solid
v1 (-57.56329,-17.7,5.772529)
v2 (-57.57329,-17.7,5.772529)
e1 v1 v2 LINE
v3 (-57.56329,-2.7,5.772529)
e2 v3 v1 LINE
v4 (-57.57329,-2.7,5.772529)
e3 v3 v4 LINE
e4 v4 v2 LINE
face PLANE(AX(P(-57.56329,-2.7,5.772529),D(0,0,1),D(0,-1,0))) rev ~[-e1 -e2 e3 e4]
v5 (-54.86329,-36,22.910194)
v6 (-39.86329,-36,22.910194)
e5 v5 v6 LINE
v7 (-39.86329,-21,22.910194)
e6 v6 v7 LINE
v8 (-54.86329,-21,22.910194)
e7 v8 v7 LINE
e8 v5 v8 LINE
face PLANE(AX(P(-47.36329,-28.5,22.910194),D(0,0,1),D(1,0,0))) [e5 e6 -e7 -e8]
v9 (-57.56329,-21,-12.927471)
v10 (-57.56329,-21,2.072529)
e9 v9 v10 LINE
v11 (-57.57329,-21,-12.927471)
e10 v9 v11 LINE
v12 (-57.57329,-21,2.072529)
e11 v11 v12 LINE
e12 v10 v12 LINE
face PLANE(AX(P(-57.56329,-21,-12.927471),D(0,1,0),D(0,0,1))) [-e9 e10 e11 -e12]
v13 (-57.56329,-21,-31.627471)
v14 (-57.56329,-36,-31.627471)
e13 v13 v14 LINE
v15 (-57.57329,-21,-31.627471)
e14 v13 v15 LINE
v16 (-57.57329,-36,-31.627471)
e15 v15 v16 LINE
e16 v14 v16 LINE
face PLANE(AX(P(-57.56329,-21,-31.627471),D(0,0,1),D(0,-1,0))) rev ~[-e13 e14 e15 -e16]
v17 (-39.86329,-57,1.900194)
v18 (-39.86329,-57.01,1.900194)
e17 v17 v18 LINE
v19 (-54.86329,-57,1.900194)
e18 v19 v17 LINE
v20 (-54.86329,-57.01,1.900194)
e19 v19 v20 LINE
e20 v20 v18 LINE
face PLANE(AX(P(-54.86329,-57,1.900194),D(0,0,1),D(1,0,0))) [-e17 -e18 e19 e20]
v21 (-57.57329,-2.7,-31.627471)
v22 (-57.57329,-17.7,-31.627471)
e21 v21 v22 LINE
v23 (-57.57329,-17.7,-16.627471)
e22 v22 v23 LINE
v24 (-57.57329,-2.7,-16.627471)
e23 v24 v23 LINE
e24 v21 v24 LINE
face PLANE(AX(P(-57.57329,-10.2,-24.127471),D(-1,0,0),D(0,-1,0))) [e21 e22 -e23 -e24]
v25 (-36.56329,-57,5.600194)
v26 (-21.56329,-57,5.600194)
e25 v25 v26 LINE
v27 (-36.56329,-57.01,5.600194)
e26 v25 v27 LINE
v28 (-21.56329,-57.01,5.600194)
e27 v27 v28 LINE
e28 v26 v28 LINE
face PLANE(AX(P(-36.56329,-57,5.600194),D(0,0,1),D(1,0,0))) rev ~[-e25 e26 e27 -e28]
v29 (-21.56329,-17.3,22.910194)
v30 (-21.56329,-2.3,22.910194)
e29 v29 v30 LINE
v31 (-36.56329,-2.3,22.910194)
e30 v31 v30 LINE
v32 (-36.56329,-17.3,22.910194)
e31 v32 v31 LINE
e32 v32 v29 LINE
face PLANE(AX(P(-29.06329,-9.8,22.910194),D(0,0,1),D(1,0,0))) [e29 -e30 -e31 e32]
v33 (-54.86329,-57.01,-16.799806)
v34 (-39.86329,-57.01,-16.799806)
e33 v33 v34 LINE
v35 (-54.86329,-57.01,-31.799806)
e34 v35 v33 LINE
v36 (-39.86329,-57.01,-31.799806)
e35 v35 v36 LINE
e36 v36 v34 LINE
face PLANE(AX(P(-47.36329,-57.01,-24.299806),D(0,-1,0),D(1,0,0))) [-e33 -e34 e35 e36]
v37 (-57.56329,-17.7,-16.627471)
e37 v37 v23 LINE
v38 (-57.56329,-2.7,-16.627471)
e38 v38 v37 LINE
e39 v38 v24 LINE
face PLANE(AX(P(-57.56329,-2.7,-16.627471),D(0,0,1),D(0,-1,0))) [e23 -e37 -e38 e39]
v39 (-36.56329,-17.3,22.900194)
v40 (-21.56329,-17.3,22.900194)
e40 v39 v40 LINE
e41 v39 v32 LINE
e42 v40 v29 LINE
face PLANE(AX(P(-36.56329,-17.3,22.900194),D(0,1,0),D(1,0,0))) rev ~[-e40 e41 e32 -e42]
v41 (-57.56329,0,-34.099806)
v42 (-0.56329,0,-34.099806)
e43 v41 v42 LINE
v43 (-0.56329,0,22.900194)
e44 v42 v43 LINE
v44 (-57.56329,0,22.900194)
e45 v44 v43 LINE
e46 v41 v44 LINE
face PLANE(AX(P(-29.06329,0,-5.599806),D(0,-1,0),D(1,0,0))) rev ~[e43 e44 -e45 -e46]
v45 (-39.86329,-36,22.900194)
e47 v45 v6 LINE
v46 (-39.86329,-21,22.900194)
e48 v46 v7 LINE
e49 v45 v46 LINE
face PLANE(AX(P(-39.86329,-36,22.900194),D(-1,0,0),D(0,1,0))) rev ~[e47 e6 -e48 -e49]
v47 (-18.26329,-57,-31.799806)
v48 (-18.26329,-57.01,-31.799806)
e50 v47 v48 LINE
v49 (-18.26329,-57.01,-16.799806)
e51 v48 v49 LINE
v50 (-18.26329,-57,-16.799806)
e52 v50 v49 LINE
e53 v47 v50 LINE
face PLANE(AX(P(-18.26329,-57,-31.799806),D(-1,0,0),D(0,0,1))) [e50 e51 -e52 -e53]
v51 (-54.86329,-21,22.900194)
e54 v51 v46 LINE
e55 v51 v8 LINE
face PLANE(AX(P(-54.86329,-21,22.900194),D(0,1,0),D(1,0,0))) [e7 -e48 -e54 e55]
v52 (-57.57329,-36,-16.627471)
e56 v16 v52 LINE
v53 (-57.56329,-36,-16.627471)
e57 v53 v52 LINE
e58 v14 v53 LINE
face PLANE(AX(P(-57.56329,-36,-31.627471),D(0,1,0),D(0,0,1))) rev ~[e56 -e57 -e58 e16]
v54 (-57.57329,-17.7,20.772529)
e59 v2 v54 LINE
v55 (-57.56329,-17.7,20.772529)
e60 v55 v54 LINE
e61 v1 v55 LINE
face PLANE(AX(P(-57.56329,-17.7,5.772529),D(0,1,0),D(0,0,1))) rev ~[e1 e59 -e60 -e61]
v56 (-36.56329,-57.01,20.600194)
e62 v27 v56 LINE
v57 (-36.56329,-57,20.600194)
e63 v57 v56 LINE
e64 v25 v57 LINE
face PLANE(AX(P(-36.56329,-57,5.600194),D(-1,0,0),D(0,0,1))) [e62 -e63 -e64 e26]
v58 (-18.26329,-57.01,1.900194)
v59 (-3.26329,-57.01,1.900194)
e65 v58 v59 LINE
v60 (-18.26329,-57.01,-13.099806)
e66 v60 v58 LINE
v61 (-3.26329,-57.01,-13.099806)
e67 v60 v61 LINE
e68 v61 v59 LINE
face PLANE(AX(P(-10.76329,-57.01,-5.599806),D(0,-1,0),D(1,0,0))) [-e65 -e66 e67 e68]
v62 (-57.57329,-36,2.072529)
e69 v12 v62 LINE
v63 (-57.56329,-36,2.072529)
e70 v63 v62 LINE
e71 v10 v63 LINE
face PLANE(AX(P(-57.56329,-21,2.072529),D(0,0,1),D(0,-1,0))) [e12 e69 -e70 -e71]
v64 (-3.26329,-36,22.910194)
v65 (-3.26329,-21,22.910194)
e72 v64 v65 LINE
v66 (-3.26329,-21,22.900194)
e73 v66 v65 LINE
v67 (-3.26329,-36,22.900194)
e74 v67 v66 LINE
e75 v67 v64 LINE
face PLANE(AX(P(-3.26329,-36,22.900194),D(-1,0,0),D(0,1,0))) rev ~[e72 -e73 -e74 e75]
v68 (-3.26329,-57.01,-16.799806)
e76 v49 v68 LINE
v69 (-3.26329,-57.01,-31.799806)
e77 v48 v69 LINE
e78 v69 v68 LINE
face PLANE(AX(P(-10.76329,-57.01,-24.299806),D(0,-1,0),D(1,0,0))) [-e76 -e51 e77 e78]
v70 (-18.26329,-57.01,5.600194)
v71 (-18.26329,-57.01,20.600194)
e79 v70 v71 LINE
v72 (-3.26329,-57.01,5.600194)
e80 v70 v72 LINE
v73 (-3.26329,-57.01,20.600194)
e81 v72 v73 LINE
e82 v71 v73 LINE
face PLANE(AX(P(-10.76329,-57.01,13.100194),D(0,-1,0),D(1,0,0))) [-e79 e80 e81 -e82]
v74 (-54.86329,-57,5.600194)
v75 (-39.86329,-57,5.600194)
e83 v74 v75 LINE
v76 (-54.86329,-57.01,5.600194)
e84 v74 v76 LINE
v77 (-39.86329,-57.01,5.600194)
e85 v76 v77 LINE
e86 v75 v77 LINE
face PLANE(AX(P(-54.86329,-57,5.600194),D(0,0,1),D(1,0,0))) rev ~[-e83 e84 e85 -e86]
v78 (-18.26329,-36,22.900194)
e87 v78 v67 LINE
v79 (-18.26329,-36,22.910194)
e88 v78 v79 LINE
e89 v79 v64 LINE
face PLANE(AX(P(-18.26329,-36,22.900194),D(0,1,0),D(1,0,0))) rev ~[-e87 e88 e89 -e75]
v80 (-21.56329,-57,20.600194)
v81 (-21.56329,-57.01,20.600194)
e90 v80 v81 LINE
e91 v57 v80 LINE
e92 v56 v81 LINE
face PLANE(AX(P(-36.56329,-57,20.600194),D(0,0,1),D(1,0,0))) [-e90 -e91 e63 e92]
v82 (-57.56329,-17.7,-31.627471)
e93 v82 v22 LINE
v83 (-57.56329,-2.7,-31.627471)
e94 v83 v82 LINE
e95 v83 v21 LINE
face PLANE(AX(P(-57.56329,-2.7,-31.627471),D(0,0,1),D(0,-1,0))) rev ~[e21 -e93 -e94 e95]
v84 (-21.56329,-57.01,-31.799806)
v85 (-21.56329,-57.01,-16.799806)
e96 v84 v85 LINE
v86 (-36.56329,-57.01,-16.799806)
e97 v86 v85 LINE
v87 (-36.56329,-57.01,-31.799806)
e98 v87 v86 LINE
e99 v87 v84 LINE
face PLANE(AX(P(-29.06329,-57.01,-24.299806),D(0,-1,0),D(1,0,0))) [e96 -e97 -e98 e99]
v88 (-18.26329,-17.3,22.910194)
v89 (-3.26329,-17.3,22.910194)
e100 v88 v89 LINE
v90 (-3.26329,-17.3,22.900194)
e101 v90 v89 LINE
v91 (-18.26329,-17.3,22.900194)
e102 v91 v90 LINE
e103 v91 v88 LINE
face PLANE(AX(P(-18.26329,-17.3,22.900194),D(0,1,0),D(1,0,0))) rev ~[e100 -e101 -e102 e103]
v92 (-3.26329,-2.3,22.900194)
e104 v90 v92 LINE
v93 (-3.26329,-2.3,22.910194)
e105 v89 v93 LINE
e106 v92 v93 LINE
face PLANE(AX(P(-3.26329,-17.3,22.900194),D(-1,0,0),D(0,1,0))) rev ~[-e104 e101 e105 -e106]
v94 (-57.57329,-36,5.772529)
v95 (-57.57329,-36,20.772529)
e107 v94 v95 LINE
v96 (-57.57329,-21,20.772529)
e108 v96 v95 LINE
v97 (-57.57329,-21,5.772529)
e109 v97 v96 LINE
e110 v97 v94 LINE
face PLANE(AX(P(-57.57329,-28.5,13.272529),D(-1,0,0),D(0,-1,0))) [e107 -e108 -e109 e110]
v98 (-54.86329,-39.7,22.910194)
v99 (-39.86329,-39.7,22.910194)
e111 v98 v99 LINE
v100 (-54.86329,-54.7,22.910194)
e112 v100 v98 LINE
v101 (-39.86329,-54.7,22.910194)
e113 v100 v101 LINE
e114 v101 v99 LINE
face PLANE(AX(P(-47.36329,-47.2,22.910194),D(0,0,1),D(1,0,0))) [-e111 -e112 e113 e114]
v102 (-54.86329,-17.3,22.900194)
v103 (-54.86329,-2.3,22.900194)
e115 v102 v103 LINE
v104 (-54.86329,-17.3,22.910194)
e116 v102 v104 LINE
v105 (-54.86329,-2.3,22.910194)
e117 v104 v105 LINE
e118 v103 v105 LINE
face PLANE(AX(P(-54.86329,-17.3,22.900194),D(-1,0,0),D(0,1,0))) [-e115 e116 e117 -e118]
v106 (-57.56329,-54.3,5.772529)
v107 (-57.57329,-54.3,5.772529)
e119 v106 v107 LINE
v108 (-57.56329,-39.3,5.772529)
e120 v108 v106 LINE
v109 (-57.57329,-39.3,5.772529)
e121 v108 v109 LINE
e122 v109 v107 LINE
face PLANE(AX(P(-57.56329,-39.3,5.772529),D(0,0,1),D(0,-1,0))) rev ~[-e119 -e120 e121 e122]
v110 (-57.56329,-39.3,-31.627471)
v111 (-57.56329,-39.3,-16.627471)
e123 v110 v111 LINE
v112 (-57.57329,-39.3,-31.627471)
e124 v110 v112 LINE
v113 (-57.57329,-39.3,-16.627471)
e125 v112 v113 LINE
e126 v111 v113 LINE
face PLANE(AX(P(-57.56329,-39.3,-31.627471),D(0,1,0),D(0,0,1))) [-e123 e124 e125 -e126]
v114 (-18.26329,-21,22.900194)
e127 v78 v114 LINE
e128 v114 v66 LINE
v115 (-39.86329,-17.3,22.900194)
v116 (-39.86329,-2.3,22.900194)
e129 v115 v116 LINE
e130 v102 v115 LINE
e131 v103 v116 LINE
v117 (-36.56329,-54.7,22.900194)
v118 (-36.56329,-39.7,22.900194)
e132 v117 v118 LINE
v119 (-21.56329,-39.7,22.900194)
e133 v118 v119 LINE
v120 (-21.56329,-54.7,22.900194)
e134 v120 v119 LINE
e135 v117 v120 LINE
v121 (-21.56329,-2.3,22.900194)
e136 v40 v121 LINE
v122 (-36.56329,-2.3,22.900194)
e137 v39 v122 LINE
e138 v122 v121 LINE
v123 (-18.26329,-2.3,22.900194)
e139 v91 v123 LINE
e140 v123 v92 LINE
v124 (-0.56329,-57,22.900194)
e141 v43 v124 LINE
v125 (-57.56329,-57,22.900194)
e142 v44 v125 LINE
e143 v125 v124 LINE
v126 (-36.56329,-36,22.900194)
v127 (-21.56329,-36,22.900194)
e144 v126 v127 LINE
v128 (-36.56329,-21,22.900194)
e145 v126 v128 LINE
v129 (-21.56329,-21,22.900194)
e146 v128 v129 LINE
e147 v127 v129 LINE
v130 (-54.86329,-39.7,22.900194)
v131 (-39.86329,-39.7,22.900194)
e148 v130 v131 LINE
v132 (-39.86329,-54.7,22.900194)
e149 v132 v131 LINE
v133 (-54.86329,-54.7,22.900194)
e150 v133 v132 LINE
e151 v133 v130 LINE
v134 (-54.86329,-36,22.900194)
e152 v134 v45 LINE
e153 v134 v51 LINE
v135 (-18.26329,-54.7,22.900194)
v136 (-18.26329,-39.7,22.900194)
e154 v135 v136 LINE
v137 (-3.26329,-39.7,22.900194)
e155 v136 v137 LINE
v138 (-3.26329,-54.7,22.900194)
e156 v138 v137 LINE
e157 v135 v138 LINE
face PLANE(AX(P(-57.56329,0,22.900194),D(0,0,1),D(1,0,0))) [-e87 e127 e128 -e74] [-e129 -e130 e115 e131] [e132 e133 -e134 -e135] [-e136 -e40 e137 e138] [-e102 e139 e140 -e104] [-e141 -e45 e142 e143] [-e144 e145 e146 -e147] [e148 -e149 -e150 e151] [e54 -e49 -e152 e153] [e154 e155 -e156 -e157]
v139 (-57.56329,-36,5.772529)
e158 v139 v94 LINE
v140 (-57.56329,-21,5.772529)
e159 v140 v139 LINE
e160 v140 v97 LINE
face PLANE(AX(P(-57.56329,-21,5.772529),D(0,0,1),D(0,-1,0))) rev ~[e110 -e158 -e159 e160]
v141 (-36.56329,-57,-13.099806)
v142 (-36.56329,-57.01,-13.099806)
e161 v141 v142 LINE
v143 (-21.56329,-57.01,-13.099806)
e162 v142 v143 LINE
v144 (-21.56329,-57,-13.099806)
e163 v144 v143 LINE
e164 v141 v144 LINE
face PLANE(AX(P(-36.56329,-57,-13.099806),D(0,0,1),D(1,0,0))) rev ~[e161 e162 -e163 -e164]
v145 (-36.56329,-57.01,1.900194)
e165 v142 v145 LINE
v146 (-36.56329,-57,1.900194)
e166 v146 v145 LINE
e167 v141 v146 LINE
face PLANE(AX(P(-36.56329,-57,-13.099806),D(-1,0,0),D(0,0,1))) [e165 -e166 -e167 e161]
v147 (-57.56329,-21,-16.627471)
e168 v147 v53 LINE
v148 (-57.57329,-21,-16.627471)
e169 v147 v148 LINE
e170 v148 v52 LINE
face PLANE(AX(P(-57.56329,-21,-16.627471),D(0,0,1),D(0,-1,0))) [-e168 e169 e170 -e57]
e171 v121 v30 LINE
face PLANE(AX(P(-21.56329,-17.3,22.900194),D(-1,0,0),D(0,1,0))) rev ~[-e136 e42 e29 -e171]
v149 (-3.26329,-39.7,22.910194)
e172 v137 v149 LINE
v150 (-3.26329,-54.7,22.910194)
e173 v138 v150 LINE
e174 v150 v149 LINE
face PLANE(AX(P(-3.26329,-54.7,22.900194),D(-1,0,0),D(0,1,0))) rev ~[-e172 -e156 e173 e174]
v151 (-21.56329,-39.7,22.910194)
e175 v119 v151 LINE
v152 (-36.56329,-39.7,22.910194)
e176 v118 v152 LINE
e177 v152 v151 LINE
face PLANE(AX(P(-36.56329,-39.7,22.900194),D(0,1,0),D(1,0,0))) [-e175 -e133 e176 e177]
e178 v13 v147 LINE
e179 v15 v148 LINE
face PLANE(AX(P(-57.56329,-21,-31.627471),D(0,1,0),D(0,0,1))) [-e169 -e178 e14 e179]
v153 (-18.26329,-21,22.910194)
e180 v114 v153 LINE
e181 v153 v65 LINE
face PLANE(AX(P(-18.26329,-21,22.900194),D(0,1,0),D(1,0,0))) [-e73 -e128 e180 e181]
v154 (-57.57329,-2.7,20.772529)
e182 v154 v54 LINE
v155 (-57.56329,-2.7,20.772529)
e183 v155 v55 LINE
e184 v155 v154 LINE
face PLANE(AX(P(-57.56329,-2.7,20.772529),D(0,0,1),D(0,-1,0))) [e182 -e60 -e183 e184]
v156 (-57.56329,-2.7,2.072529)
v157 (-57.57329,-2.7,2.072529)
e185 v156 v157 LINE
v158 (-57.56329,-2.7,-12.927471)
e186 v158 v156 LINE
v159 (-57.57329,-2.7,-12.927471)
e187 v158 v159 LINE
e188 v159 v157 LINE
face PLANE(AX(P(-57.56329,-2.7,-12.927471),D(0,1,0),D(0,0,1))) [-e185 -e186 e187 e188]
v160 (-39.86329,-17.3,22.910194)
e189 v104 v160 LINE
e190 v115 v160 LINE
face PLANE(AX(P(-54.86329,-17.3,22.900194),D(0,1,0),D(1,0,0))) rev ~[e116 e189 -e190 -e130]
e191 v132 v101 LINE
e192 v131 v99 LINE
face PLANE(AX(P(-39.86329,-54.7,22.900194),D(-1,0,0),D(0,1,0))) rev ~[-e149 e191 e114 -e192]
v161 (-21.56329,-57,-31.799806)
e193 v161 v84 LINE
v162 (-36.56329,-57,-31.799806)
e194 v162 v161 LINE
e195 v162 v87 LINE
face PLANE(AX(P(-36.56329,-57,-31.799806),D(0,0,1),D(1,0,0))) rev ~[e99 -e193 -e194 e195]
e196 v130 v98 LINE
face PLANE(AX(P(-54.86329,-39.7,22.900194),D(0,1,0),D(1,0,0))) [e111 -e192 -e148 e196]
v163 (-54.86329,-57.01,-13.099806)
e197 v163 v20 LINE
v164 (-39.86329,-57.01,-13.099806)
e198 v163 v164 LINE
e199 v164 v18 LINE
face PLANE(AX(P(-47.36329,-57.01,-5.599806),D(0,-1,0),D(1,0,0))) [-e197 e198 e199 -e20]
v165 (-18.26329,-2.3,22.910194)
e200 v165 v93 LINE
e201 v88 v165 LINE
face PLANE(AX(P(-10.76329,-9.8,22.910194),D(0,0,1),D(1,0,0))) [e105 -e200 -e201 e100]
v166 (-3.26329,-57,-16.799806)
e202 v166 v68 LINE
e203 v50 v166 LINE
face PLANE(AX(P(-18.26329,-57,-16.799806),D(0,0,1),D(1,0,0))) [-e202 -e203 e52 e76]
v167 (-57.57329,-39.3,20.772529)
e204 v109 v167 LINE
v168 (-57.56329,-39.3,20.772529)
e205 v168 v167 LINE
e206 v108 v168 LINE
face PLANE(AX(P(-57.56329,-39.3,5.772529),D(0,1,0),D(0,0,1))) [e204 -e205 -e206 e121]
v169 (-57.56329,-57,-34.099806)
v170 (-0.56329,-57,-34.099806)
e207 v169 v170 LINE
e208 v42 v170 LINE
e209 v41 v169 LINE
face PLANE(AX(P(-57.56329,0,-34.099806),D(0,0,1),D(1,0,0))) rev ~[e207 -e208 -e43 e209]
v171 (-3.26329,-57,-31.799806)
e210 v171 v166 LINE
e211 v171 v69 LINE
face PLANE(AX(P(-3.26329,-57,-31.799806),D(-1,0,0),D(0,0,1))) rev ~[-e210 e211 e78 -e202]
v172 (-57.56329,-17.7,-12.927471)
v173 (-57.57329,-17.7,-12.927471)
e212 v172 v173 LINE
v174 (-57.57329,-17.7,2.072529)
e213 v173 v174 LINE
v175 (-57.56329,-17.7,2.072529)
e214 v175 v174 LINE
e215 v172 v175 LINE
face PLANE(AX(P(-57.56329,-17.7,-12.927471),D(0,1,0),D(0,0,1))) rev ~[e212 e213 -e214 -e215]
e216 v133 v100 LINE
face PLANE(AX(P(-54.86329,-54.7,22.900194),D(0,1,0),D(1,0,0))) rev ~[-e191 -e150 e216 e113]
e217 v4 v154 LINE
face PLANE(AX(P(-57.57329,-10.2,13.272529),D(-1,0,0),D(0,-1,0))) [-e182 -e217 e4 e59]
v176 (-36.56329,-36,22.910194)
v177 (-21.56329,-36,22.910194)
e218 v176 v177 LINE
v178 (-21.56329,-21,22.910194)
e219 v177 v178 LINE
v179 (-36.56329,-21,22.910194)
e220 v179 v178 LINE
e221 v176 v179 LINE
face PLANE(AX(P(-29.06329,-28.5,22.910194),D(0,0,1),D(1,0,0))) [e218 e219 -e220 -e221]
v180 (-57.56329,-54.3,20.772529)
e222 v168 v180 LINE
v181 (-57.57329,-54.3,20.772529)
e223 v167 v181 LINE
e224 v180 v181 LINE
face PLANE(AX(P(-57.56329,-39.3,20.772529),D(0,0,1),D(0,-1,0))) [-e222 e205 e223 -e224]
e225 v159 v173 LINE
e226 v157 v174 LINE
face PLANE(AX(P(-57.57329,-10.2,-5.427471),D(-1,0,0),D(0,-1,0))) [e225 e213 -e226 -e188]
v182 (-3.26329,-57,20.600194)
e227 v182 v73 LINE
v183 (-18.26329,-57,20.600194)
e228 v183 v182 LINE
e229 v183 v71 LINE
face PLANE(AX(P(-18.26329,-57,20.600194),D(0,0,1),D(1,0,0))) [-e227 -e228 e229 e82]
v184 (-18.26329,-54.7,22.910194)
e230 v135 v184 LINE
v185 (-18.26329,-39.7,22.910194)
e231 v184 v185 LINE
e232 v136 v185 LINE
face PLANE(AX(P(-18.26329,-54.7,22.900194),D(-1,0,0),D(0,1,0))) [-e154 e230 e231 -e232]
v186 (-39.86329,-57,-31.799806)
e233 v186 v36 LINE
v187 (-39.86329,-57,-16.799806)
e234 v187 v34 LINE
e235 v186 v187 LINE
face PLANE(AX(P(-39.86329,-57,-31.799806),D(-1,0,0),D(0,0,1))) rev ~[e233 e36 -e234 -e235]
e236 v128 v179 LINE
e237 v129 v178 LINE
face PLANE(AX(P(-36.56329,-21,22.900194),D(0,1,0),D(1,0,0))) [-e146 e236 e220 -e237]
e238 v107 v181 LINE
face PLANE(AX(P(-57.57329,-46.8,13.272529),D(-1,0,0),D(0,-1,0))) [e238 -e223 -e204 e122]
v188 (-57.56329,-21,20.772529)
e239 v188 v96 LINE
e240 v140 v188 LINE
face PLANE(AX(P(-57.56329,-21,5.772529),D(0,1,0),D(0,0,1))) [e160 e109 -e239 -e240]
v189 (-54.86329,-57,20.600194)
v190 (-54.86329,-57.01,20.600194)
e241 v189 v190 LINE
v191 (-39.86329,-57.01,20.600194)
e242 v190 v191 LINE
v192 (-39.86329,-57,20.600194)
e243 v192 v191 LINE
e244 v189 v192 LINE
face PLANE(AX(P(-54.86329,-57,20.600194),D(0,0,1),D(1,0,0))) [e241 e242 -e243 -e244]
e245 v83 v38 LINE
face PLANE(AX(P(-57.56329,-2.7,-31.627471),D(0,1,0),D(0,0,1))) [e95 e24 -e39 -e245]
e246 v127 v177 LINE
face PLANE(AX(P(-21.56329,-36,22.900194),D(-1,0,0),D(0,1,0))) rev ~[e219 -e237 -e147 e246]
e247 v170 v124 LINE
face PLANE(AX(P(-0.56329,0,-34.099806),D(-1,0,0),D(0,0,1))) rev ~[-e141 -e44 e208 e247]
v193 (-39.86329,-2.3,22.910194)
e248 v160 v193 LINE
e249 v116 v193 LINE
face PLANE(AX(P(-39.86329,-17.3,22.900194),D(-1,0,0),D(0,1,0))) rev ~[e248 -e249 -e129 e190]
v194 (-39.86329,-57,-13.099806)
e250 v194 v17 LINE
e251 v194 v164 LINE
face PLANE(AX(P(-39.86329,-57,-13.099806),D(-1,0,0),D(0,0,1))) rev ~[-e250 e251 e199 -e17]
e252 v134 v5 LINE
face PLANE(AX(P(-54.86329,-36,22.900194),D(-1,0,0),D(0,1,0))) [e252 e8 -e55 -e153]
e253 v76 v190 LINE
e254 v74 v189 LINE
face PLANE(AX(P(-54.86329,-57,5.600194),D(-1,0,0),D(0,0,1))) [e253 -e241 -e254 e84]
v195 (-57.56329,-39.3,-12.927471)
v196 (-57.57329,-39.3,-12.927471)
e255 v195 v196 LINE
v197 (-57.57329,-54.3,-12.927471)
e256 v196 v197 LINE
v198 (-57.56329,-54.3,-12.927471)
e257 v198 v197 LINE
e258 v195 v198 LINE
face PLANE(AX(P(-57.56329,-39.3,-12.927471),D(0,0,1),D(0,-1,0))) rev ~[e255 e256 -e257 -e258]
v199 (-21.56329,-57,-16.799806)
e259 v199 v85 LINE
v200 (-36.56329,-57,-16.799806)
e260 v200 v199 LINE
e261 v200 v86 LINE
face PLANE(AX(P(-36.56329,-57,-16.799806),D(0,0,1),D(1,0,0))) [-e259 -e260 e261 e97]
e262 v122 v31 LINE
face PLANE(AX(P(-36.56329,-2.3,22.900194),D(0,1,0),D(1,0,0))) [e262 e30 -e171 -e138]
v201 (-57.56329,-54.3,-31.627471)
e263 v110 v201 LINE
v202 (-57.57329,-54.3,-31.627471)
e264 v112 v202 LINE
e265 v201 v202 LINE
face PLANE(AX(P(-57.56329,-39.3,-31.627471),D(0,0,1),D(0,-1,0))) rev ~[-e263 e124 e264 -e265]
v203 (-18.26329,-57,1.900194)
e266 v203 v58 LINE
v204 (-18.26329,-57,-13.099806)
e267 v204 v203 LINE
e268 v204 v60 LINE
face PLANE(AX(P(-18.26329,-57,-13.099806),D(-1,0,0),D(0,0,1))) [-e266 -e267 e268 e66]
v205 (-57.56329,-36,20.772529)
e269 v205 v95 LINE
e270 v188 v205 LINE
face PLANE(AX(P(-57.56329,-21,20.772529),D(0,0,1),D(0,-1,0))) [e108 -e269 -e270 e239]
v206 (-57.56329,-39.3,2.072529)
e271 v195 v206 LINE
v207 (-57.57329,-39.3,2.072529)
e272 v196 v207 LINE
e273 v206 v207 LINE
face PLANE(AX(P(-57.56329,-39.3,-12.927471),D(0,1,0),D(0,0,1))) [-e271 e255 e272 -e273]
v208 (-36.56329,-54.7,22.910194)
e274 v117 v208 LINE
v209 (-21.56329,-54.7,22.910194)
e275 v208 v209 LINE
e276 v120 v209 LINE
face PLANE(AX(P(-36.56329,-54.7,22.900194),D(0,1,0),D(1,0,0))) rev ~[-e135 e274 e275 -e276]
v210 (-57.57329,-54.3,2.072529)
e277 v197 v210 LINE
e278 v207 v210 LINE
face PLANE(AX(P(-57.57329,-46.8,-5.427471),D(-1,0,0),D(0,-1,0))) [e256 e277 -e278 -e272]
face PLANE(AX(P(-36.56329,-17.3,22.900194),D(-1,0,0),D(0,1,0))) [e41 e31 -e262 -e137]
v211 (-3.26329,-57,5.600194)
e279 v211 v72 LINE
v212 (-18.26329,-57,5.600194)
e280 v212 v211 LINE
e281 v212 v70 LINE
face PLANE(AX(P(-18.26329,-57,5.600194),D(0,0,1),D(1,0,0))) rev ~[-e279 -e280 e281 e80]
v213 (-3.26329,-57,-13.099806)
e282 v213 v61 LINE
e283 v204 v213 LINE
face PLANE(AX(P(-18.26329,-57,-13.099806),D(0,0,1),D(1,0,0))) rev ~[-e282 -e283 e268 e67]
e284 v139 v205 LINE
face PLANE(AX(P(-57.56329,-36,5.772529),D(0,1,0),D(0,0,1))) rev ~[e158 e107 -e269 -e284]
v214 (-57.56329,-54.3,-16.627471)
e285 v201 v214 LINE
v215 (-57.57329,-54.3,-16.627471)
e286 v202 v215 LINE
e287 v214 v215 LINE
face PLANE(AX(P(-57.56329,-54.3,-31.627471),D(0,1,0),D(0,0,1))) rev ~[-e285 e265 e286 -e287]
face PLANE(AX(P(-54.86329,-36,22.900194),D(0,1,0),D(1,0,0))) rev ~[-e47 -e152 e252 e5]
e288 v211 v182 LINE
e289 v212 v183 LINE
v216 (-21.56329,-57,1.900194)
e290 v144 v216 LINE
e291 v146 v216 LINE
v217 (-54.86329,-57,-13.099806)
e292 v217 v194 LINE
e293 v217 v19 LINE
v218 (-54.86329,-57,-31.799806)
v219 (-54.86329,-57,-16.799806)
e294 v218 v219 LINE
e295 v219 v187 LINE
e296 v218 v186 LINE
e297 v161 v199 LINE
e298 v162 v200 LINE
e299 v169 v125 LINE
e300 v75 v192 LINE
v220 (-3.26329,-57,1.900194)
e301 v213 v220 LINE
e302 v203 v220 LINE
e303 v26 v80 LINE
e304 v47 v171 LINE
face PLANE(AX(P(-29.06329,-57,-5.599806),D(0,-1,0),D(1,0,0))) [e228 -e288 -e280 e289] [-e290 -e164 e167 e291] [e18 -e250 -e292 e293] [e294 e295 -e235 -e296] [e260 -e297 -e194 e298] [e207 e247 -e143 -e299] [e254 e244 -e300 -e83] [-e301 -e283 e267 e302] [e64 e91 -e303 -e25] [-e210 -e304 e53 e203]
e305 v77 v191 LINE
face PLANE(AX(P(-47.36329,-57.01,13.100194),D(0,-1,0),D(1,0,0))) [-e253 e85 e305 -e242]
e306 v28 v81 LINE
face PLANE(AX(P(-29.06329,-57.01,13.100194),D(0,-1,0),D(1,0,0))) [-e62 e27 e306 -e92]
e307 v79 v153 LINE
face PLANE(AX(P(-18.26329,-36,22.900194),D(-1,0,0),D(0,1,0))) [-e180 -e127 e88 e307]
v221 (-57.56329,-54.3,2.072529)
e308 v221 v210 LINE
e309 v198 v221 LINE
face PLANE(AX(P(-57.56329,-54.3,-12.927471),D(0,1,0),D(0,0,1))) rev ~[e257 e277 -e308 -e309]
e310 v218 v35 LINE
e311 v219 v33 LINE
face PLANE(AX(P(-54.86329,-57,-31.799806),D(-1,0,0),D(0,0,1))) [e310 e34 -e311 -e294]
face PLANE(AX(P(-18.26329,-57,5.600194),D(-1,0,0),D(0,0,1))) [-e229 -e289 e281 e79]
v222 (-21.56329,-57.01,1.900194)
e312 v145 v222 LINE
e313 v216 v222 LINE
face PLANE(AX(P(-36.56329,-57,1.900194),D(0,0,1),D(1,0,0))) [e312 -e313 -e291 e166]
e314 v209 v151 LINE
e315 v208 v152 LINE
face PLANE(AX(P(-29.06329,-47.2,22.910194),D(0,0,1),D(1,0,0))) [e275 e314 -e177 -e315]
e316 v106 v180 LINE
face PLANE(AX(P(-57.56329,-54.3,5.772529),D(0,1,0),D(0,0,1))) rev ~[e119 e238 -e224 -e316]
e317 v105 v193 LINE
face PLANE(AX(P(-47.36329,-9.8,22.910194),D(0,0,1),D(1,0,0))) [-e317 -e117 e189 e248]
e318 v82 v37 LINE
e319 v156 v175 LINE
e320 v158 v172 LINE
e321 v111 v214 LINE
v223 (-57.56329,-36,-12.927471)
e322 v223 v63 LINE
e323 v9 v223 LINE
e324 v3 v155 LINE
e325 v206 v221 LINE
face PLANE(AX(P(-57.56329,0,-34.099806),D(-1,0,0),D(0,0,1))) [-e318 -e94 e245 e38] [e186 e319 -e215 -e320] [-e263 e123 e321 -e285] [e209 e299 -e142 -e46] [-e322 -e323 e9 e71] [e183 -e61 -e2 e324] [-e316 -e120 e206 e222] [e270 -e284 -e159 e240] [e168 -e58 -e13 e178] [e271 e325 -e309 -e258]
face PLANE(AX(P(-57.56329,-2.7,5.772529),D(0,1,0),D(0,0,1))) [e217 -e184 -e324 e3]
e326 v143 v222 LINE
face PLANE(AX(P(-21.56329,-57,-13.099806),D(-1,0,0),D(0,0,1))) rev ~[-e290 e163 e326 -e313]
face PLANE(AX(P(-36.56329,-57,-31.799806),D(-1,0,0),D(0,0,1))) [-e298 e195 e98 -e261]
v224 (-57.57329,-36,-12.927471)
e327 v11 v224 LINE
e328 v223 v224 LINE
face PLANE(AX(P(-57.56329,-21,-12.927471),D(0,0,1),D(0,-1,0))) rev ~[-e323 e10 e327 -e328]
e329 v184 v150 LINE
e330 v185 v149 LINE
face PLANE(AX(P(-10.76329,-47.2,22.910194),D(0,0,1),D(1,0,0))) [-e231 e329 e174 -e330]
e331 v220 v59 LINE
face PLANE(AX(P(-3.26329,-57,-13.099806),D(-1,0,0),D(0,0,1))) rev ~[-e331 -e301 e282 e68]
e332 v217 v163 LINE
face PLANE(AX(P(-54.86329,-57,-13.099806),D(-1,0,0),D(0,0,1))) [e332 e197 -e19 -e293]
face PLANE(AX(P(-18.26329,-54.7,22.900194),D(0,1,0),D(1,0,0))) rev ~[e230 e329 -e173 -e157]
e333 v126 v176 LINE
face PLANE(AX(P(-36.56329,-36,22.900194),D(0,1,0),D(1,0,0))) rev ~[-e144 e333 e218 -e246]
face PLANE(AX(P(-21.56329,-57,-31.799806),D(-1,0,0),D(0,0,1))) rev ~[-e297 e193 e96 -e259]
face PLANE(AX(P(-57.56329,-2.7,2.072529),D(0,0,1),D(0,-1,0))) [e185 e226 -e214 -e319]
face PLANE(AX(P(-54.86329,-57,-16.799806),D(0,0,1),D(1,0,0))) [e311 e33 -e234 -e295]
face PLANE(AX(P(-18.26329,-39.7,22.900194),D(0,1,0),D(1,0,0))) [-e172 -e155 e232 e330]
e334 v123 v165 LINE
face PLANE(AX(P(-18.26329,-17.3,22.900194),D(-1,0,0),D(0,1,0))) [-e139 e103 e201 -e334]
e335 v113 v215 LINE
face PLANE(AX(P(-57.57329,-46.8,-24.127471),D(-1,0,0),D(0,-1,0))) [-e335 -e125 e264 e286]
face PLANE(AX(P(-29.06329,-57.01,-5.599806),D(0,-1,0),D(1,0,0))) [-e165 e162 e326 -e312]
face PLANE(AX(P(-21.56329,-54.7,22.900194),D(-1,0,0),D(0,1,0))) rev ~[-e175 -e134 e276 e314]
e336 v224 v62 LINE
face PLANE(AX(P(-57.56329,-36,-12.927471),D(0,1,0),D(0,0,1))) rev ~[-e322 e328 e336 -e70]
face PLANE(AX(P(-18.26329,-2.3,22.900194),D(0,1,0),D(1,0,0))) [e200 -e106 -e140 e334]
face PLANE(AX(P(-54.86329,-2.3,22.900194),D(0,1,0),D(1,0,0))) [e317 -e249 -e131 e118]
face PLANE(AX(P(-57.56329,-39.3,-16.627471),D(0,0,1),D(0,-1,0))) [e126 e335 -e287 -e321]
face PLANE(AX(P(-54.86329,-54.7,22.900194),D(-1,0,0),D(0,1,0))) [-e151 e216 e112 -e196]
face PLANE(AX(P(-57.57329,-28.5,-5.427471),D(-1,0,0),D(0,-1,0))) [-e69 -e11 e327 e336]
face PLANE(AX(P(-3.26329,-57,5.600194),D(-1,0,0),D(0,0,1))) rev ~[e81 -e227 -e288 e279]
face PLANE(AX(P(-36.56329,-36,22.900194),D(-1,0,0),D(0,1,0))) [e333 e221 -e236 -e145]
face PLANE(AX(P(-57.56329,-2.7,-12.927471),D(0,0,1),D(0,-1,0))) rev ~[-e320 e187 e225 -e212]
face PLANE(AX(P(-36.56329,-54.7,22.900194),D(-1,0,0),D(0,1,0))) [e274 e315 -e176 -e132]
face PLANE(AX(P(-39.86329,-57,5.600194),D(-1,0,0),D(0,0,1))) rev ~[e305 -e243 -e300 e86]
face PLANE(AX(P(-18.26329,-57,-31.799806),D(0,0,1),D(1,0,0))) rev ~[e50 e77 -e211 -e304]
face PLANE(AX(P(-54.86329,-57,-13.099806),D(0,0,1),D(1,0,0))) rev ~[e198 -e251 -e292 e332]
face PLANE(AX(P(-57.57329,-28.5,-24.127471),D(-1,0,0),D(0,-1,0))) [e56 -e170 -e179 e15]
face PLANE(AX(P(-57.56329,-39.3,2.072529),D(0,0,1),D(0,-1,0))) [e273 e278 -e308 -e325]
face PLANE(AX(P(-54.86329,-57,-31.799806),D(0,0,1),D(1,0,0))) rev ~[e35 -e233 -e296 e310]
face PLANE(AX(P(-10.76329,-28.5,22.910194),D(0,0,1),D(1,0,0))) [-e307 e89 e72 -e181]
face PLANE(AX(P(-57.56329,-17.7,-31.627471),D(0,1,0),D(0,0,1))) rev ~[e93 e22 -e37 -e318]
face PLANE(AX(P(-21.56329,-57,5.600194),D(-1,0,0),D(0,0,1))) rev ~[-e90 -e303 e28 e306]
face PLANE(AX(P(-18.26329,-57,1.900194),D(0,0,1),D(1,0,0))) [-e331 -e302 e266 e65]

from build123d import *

# Parameters (mm, degrees)
F0_W     = 57
F0_H     = 57
F1_DEPTH = 57
F2_W     = 15
F2_H     = 15
F3_DEPTH = 0.01
F4_W     = 15
F4_H     = 15
F5_DEPTH = 0.01
F6_W     = 15
F6_H     = 15
F7_DEPTH = 0.01


with BuildPart() as f1:
    # F0 (on Front) → F1 (new body)
    with BuildSketch(Plane.XZ):
        with Locations((-29.06329, -5.599806)):
            Rectangle(F0_W, F0_H)
    extrude(amount=F1_DEPTH)

    # F2 (on face) → F3 (join)
    with BuildSketch(Plane.XY.offset(22.900194)):
        with Locations((-10.76329, -9.8)):
            Rectangle(F2_W, F2_H)
        with Locations((-10.76329, -28.5)):
            Rectangle(F2_W, F2_H)
        with Locations((-10.76329, -47.2)):
            Rectangle(F2_W, F2_H)
        with Locations((-29.06329, -47.2)):
            Rectangle(F2_W, F2_H)
        with Locations((-29.06329, -28.5)):
            Rectangle(F2_W, F2_H)
        with Locations((-29.06329, -9.8)):
            Rectangle(F2_W, F2_H)
        with Locations((-47.36329, -47.2)):
            Rectangle(F2_W, F2_H)
        with Locations((-47.36329, -28.5)):
            Rectangle(F2_W, F2_H)
        with Locations((-47.36329, -9.8)):
            Rectangle(F2_W, F2_H)
    extrude(amount=F3_DEPTH)

    # F4 (on face) → F5 (join)
    with BuildSketch(Plane.XZ.offset(57)):
        with Locations((-10.76329, 13.100194)):
            Rectangle(F4_W, F4_H)
        with Locations((-10.76329, -5.599806)):
            Rectangle(F4_W, F4_H)
        with Locations((-10.76329, -24.299806)):
            Rectangle(F4_W, F4_H)
        with Locations((-29.06329, -24.299806)):
            Rectangle(F4_W, F4_H)
        with Locations((-29.06329, -5.599806)):
            Rectangle(F4_W, F4_H)
        with Locations((-29.06329, 13.100194)):
            Rectangle(F4_W, F4_H)
        with Locations((-47.36329, -24.299806)):
            Rectangle(F4_W, F4_H)
        with Locations((-47.36329, -5.599806)):
            Rectangle(F4_W, F4_H)
        with Locations((-47.36329, 13.100194)):
            Rectangle(F4_W, F4_H)
    extrude(amount=F5_DEPTH)

    # F6 (on face) → F7 (join)
    with BuildSketch(Plane(origin=(-57.56329, 0, 0), x_dir=(0, -1, 0), z_dir=(-1, 0, 0))):
        with Locations((46.8, 13.272529)):
            Rectangle(F6_W, F6_H)
        with Locations((46.8, -5.427471)):
            Rectangle(F6_W, F6_H)
        with Locations((46.8, -24.127471)):
            Rectangle(F6_W, F6_H)
        with Locations((28.5, -24.127471)):
            Rectangle(F6_W, F6_H)
        with Locations((28.5, -5.427471)):
            Rectangle(F6_W, F6_H)
        with Locations((28.5, 13.272529)):
            Rectangle(F6_W, F6_H)
        with Locations((10.2, -24.127471)):
            Rectangle(F6_W, F6_H)
        with Locations((10.2, -5.427471)):
            Rectangle(F6_W, F6_H)
        with Locations((10.2, 13.272529)):
            Rectangle(F6_W, F6_H)
    extrude(amount=F7_DEPTH)


solid = f1.part
